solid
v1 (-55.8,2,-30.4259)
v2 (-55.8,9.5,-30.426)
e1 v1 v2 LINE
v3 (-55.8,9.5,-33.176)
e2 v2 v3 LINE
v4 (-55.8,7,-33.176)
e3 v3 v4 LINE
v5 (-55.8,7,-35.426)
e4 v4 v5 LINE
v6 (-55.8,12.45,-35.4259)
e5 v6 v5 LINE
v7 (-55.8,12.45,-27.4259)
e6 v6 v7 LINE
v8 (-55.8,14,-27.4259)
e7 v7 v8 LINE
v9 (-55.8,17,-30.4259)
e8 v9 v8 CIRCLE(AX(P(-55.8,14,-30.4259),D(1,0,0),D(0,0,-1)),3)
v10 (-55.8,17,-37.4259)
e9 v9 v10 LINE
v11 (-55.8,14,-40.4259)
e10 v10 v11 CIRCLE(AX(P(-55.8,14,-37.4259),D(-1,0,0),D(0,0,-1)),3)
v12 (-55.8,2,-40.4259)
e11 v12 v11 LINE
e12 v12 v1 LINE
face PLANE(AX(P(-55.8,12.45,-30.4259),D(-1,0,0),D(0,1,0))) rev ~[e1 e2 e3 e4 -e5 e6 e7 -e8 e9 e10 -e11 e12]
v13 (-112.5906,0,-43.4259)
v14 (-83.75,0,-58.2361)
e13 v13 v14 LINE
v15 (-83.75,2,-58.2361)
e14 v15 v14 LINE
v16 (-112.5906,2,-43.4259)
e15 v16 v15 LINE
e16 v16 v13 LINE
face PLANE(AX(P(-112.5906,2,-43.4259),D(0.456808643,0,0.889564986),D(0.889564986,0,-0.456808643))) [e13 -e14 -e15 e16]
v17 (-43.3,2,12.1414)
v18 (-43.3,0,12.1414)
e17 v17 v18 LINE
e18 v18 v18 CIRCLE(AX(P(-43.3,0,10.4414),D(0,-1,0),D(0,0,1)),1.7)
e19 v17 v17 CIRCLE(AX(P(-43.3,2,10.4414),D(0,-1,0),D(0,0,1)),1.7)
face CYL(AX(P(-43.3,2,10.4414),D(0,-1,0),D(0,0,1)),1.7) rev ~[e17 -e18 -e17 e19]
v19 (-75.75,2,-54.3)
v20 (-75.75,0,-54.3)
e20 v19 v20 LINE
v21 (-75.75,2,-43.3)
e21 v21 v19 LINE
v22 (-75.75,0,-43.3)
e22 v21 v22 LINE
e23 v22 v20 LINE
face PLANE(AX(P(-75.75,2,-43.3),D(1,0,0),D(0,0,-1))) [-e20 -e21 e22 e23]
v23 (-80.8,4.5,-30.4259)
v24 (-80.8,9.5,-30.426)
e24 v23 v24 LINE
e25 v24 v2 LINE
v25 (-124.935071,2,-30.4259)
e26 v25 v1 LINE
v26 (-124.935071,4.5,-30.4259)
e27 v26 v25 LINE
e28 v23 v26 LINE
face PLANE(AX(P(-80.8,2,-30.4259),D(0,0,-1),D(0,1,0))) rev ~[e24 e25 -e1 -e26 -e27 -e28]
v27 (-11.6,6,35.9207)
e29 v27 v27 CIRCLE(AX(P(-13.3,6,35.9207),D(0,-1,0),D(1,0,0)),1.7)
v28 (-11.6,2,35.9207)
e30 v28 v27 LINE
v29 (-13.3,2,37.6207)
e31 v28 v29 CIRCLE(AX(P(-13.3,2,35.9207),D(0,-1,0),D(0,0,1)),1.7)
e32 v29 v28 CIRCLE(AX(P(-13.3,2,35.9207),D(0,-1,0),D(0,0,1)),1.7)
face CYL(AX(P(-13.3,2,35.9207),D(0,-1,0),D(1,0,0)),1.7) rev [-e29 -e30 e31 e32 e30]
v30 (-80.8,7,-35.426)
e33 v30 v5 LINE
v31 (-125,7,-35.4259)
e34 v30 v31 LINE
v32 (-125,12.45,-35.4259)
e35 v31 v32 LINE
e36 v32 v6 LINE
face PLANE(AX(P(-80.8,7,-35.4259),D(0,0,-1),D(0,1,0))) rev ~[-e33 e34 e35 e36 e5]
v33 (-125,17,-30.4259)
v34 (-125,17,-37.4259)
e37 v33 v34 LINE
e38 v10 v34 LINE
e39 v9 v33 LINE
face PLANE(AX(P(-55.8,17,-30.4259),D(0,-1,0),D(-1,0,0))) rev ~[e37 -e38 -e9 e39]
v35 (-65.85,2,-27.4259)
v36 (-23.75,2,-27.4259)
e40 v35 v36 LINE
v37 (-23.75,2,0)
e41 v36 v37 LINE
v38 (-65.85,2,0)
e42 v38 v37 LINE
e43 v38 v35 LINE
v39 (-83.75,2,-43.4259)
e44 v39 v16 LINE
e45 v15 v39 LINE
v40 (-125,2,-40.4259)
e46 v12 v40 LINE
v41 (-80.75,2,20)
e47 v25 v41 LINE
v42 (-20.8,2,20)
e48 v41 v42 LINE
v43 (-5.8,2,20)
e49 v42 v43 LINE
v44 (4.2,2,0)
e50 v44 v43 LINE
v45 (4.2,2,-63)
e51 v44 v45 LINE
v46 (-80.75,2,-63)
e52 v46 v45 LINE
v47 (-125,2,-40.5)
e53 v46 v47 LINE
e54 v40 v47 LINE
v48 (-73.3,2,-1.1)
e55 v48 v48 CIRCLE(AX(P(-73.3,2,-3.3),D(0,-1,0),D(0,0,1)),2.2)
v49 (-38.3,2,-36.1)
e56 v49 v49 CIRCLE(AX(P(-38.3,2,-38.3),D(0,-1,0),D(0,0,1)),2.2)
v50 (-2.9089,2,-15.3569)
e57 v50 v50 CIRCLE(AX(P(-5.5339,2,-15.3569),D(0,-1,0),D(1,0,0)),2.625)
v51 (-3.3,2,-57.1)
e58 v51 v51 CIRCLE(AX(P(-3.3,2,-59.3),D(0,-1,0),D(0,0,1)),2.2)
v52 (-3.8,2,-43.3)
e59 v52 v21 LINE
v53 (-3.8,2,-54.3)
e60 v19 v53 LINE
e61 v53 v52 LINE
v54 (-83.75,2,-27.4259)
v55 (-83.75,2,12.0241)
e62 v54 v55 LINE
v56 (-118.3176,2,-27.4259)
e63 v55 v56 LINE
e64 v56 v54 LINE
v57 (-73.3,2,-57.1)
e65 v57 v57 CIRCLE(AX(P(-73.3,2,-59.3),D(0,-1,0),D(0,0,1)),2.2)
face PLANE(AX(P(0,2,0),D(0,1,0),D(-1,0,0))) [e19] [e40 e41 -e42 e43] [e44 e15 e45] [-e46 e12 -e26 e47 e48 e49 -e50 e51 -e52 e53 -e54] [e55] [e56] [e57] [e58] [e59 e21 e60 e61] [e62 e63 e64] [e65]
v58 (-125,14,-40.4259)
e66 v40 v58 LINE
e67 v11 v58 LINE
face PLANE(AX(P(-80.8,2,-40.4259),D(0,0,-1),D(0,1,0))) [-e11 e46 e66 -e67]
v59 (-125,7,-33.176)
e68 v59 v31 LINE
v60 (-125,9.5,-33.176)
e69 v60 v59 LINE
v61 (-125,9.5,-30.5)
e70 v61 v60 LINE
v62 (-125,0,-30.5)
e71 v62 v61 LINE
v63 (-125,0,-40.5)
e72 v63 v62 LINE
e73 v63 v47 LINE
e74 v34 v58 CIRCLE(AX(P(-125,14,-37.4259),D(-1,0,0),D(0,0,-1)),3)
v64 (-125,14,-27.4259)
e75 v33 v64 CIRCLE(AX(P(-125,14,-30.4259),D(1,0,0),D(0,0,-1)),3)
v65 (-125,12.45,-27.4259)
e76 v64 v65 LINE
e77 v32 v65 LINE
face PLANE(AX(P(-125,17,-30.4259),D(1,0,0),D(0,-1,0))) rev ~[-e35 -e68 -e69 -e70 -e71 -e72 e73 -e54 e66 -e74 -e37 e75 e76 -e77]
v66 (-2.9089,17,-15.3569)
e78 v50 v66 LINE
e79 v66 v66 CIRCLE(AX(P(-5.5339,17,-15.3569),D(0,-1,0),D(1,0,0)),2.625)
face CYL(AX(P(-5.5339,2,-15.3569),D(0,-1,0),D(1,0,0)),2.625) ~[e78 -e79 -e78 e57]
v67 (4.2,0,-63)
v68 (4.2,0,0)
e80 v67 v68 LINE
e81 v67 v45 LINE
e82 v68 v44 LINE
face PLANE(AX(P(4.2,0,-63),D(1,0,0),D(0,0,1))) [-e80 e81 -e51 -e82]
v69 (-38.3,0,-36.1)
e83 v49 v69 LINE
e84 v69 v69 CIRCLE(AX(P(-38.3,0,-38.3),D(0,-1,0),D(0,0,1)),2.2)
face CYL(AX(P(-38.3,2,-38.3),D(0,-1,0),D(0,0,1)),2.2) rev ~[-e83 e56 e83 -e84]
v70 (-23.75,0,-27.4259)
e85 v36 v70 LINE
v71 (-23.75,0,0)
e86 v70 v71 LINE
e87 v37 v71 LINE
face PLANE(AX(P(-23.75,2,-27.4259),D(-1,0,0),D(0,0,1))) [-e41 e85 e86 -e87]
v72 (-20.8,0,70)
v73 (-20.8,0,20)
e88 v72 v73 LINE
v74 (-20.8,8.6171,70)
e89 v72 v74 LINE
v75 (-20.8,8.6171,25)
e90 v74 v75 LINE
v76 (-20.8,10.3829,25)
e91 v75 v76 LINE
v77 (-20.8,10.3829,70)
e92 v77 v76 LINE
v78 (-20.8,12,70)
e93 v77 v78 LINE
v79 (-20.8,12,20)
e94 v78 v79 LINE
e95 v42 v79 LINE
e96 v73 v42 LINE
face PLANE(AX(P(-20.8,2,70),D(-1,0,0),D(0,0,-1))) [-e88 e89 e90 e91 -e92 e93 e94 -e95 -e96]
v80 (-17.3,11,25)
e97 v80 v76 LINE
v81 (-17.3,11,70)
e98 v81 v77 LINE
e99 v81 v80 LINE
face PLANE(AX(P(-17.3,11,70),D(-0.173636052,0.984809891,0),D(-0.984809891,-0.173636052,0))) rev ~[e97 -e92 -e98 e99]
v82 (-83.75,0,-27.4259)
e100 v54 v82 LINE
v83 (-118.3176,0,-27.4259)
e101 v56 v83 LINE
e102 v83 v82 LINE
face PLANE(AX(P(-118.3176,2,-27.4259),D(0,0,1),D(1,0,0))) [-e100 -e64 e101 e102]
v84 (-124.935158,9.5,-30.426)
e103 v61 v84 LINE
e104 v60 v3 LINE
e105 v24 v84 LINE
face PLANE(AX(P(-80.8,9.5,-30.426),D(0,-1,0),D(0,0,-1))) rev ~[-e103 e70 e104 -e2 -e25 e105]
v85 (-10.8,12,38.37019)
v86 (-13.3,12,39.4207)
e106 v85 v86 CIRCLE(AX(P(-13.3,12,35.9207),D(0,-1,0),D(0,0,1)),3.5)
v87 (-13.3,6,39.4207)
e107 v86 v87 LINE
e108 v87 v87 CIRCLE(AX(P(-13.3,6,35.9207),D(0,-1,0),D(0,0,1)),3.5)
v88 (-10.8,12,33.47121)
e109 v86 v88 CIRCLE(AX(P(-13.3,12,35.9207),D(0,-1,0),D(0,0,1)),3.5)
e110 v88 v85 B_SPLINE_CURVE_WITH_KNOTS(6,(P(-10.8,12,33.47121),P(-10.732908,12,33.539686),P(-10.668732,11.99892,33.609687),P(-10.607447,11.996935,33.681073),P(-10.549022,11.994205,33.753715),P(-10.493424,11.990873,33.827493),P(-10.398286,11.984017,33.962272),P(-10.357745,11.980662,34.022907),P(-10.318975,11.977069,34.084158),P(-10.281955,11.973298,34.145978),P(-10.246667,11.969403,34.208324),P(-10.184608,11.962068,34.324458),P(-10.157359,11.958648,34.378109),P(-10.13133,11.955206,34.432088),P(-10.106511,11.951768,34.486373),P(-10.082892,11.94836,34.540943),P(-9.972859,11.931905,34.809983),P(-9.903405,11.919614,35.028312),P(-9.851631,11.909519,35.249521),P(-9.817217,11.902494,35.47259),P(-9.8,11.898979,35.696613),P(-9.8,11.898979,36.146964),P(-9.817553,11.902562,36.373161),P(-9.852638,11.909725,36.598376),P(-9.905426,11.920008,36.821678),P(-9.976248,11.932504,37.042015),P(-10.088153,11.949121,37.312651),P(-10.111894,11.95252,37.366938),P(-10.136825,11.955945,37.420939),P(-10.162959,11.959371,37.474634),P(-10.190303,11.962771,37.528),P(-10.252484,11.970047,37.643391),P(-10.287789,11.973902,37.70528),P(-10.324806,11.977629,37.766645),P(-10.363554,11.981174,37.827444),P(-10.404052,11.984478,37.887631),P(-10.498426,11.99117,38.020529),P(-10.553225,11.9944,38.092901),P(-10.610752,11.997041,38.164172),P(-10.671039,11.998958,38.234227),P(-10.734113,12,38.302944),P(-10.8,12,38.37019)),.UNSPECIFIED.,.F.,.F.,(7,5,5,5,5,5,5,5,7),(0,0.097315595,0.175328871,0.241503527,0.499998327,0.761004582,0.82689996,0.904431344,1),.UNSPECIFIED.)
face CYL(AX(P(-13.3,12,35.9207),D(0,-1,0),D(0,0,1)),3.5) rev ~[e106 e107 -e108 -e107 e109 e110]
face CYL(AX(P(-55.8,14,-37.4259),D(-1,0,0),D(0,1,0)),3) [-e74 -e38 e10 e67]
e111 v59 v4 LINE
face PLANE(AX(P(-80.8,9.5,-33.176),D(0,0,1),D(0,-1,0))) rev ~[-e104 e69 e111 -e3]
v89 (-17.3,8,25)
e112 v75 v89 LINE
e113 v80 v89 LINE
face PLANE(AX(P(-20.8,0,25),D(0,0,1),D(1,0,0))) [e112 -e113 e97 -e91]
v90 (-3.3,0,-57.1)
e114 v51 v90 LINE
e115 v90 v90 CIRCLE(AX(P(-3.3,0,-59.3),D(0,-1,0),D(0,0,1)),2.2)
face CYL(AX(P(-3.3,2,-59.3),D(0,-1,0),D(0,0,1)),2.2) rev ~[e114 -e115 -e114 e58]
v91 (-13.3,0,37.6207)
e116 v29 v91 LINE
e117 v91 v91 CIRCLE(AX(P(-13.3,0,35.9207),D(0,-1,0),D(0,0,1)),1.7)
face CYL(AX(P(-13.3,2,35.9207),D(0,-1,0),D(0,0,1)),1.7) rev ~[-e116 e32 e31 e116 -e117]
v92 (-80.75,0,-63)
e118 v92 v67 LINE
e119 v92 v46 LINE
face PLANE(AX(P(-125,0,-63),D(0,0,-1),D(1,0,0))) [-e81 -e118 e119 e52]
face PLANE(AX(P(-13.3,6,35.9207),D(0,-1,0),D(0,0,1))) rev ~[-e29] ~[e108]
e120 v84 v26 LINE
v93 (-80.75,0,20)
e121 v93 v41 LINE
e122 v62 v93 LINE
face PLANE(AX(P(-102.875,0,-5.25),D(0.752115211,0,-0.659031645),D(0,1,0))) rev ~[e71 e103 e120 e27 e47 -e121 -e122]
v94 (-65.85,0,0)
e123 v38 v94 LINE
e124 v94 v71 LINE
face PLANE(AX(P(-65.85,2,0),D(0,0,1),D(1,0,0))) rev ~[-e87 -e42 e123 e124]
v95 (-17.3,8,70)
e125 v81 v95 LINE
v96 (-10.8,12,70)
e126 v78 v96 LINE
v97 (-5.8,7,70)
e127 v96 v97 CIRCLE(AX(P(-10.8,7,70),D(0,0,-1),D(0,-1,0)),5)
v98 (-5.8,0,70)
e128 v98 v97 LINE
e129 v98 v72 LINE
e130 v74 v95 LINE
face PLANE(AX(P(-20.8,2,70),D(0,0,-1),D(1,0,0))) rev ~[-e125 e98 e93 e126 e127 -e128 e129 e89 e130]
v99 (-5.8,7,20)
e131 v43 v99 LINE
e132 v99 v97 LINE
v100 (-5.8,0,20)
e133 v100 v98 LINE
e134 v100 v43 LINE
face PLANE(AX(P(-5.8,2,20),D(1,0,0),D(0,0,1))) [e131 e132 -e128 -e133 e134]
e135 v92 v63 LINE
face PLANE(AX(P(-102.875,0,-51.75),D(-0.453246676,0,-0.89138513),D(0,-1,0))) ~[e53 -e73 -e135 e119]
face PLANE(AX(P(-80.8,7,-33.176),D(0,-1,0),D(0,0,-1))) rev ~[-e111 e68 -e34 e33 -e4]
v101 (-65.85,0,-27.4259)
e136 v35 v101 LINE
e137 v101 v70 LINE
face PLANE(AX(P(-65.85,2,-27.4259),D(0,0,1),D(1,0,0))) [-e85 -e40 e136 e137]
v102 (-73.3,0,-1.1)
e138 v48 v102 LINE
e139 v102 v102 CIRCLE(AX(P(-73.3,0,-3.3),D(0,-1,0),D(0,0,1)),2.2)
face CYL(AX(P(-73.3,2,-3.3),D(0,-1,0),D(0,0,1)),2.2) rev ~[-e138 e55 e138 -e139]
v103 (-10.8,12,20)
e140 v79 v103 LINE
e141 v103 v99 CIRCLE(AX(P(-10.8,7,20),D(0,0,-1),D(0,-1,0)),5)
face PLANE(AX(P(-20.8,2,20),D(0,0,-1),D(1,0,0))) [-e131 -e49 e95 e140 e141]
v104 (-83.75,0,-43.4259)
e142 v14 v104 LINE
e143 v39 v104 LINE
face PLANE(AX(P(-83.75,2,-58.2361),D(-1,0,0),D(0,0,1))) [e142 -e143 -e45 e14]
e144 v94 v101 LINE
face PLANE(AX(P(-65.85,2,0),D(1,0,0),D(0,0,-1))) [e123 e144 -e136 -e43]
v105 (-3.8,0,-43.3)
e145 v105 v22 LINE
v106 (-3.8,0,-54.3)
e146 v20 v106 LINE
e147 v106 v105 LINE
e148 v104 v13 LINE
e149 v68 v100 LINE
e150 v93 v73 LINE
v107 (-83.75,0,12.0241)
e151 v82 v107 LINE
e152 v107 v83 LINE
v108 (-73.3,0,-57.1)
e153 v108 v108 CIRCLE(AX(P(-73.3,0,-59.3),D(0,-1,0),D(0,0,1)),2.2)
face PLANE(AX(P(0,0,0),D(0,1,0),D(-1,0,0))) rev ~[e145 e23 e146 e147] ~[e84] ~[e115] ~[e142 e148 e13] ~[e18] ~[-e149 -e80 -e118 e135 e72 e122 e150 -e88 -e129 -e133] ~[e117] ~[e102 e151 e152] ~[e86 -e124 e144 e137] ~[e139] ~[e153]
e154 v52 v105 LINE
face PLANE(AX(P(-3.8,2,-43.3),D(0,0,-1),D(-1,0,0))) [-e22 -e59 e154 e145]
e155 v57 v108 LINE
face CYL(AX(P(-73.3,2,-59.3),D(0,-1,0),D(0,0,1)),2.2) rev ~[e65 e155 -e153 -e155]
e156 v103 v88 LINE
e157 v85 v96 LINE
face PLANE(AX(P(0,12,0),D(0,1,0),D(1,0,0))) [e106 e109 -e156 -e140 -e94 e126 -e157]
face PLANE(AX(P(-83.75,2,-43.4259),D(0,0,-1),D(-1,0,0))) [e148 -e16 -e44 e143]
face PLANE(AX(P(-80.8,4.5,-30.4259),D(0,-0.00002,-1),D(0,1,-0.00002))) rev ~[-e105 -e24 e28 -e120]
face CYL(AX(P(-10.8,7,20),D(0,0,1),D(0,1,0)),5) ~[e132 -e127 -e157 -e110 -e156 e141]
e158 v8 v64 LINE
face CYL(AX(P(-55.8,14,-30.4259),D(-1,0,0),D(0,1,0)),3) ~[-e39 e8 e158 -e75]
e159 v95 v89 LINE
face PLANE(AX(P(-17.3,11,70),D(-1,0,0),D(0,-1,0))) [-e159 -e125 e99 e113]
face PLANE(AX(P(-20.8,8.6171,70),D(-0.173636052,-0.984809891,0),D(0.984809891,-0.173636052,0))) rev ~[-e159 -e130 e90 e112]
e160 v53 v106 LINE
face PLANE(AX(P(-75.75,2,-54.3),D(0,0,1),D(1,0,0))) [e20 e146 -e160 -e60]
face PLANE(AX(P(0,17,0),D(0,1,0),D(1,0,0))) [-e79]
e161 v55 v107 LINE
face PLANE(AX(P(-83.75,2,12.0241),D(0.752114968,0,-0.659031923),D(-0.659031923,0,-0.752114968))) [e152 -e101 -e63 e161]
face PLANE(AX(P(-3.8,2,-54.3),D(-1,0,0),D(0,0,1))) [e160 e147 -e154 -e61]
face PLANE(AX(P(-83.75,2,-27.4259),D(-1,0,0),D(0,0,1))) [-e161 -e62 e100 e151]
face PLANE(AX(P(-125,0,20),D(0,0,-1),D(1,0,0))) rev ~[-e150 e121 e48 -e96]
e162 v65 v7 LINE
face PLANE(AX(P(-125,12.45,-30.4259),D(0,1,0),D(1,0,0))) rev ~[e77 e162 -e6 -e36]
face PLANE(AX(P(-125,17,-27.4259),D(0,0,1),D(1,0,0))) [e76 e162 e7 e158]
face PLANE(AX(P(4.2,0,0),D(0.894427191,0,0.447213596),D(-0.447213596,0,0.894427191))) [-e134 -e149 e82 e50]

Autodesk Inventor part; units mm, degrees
ref_plane "YZ Plane" through (0, 0, 0) normal (1, 0, 0) x (0, 1, 0)
ref_plane "XZ Plane" through (0, 0, 0) normal (0, 1, 0) x (-1, 0, 0)
ref_plane "XY Plane" through (0, 0, 0) normal (0, 0, 1) x (1, 0, 0)
sketch "Sketch1" plane through (0, 0, 0) normal (0, 1, 0) x (-1, 0, 0)
  line L0 (125, 0) -> (125, -63)
  line L1 (125, -63) -> (-4.2, -63)
  line L2 (-4.2, -63) -> (-4.2, 0)
  line L3 (-4.2, 0) -> (5.8, 0)
  line L4 (5.8, 0) -> (5.8, 40)
  line L5 (20.8, 40) -> (20.8, 0)
  line L6 (20.8, 0) -> (125, 0)
  line L7 (5.8, 40) -> (5.8, 70)
  line L8 (5.8, 70) -> (20.8, 70)
  line L9 (20.8, 70) -> (20.8, 40)
  line L10 (125, 0) -> (125, 20)
  line L11 (125, 20) -> (5.8, 20)
  line L12 (-4.2, -1.8) -> (-4.2, -60.8) projected
  line L13 (-4.2, 0) -> (5.8, 20)
  line L14 (125, -35.426) -> (125, -25.426) projected
  point P0 (20.8, 20)
  dimension "d1" = 63
  dimension "d2" = 15
  dimension "d3" = 40
  dimension "d4" = 10
  dimension "d51" = 30
  dimension "d127" = 20
  dimension "d129" = 126.9309
  dimension "d130" = 104.2
  dimension "d131" = 13.4164
extrude "Extrusion1" add sketch "Sketch1" along normal blind 2
sketch "Sketch2" plane through (0, 2, 0) normal (0, 1, 0) x (1, 0, 0)
  line L0 (-73.3, 3.3) -> (-3.3, 3.3) construction
  line L1 (-3.3, 3.3) -> (-3.3, 59.3) construction
  line L2 (-3.3, 59.3) -> (-73.3, 59.3) construction
  line L3 (-73.3, 59.3) -> (-73.3, 3.3) construction
  circle A0 centre (-73.3, 3.3) radius 1.7
  circle A1 centre (-73.3, 59.3) radius 1.7
  circle A2 centre (-3.3, 59.3) radius 1.7
  point P0 (0, 0)
  dimension "d7" = 70
  dimension "d8" = 56
  dimension "d9" = 3.3
  dimension "d11" = 3.4
  dimension "d12" = 3.4
  dimension "d13" = 3.4
  dimension "d197" = 3.3
hole "Hole1" at (-73.3, 2, -3.3) at (-73.3, 2, -59.3) at (-3.3, 2, -59.3) direction (0, -1, 0) diameter 4.4 end through all
sketch "Sketch3" plane through (0, 2, 0) normal (0, 1, 0) x (1, 0, 0)
  circle A0 centre (-3.3, 59.3) radius 2.2 construction
  circle A1 centre (-73.3, 59.3) radius 2.2 construction
  circle A2 centre (-73.3, 3.3) radius 2.2 construction
  line L0 (-20.8, -20) -> (-20.8, -70) construction
  line L1 (-5.8, -70) -> (-5.8, -20) construction
  line L2 (4.2, 0) -> (4.2, 63) construction
  line L3 (4.2, 63) -> (-125, 63) construction
  line L4 (-73.3, 3.3) -> (-3.3, 3.3) construction
  line L5 (-3.3, 3.3) -> (-3.3, 59.3) construction
  line L6 (-3.3, 38.3) -> (-38.3, 38.3) construction
  line L7 (-38.3, 38.3) -> (-38.3, 3.3) construction
  circle A3 centre (-38.3, 38.3) radius 2.2 construction
  line L8 (-20.8, -70) -> (-5.8, -70) projected
  line L9 (-5.8, -20) -> (4.2, 0) projected
  line L10 (-125, 63) -> (-125, -20) projected
  line L11 (-125, -20) -> (-20.8, -20) projected
  point P0 (0, 0)
  dimension "d24" = 35
  dimension "d25" = 35
  dimension "d26" = 4.4
hole "Hole2" at (-38.3, 2, -38.3) direction (0, -1, 0) diameter 4.4 end through all
sketch "Sketch5" plane through (0, 2, 0) normal (0, 1, 0) x (1, 0, 0)
  circle A0 centre (-38.3, 38.3) radius 2.2 projected
  circle A1 centre (-5.5339, 15.3569) radius 2.625
  line L0 (-38.3, 38.3) -> (-5.5339, 15.3569)
  line L1 (-38.3, 38.3) -> (-38.3, 10.8789)
  point P0 (0, 0)
  dimension "d44" = 5.25
  dimension "d46" = 40
  dimension "d47" = 55
  dimension "d200" = 27.4211
extrude "Extrusion2" add sketch "Sketch5" along normal blind 15 contours A1
sketch "Sketch6" plane through (0, 2, 0) normal (0, 1, 0) x (1, 0, 0)
  line L0 (-80.8, 40.4259) -> (-55.8, 40.4259)
  line L1 (-55.8, 40.4259) -> (-55.8, 30.4259)
  line L2 (-55.8, 30.4259) -> (-80.8, 30.4259)
  line L3 (-80.8, 30.4259) -> (-80.8, 40.4259)
  circle A0 centre (-5.5339, 15.3569) radius 2.625 projected
  circle A1 centre (-5.5339, 15.3569) radius 2.625 projected
  line L4 (-5.5339, 15.3569) -> (-80.8, 15.3569) construction
  point P0 (0, 0)
  point P1 (-55.8, 35.4259)
  dimension "d54" = 10
  dimension "d132" = 25
  dimension "d133" = 30.4259
  dimension "d134" = 66.0957
  dimension "d206" = 80.8
extrude "Extrusion3" add sketch "Sketch6" along normal blind 15 contours L0 L1 L2 L3
sketch "Sketch7" plane through (-80.8, 2, -40.4259) normal (-1, 0, 0) x (0, 0, 1)
  line L0 (10, 2.5) -> (5, 2.5)
  line L1 (9.9999, 7.5) -> (6.9999, 7.5) projected
  line L2 (10, 0) -> (10, 15) projected
  line L3 (4.9999, 5) -> (6.9999, 5) projected
  line L4 (6.9999, 5) -> (6.9999, 7.5) projected
  line L5 (-22.5741, 0) -> (60.4259, 0) projected
  line L6 (7.2499, 7.5) -> (7.2499, 5)
  line L7 (7.2499, 5) -> (6.9999, 5)
  line L8 (5, 10.45) -> (10, 10.45)
  line L9 (5, 10.45) -> (5, 2.5)
  line L10 (7.2499, 7.5) -> (9.9999, 7.5)
  line L11 (10, 2.5) -> (9.9999, 7.5)
  point P0 (5, 5)
  dimension "d186" = 0.25
  dimension "d256" = 2.5
  dimension "d257" = 0.25
  dimension "d274" = 7.95
  dimension "d275" = 5
extrude "Extrusion4" cut sketch "Sketch7" against normal up to surface (25 mm away) contours L1 L4 L3 L9 L8 L2 | L6 L7 L4 L1
sketch "Sketch13" plane through (0, 2, 0) normal (0, 1, 0) x (1, 0, 0)
  point P0 (0, 0)
sketch "Sketch15" plane through (-80.8, 2, -40.4259) normal (-1, 0, 0) x (0, 0, 1)
  line L0 (10, 10.45) -> (10, 15) projected
  line L1 (0, 15) -> (10, 15) projected
  line L2 (0, 0) -> (0, 15) projected
  line L3 (10, 0) -> (0, 0) projected
  line L4 (10, 0) -> (10, 2.5) projected
  line L5 (5, 10.45) -> (10, 10.45) projected
  line L6 (5, 5) -> (5, 10.45) projected
  line L7 (10, 2.5) -> (9.9999, 7.5) projected
  line L8 (9.9999, 7.5) -> (7.2499, 7.5) projected
  line L9 (7.2499, 7.5) -> (7.2499, 5) projected
  line L10 (7.2499, 5) -> (5, 5) projected
  point P0 (40.4259, -2)
extrude "Extrusion9" add sketch "Sketch15" along normal up to surface (44.2 mm away)
sketch "Sketch18" plane through (0, 2, 0) normal (0, 1, 0) x (1, 0, 0)
  point P0 (0, 0)
  point P1 (-43.3, -10.4414)
  point P2 (-13.3, -35.9207)
hole "Hole4" at (-43.3, 2, 10.4414) at (-13.3, 2, 35.9207) direction (0, -1, 0) diameter 3.4 end through all
chamfer "Chamfer1" distance 50.5 distance2 44.25 1 edges at (-125, 1, 20) measured on face at (-125, 0.6667, -24.4753)
chamfer "Chamfer2" distance 44.25 distance2 22.5 1 edges at (-125, 1, -63) measured on face at (-38.8667, 1.3333, -63)
sketch "Sketch19" plane through (0, 2, 0) normal (0, 1, 0) x (1, 0, 0)
  line L0 (-125, 30.5) -> (-80.75, -20) projected
  line L1 (-80.75, -20) -> (-80.75, 30.4259)
  line L2 (-55.8, 30.4259) -> (-124.9351, 30.4259) projected
  line L3 (-124.9351, 30.4259) -> (-80.75, -20)
  line L4 (-80.75, 63.1491) -> (-125, 40.4259)
  line L5 (-125, 40.4259) -> (-80.75, 40.4259)
  line L6 (-80.75, 40.4259) -> (-80.75, 63.1491)
  line L7 (-80.75, 30.4259) -> (-124.9351, 30.4259)
  line L8 (-83.75, 27.4259) -> (-83.75, -12.0241)
  line L9 (-83.75, -12.0241) -> (-118.3176, 27.4259)
  line L10 (-118.3176, 27.4259) -> (-83.75, 27.4259)
  line L11 (-83.75, 43.4259) -> (-112.5906, 43.4259)
  line L12 (-112.5906, 43.4259) -> (-83.75, 58.2361)
  line L13 (-83.75, 58.2361) -> (-83.75, 43.4259)
  line L14 (-80.75, 0) -> (-20.75, 0)
  line L15 (-20.75, 0) -> (-20.75, 30.4259)
  line L16 (-20.75, 30.4259) -> (-80.75, 30.4259)
  line L17 (-80.75, 0) -> (-80.75, 30.4259)
  line L18 (-80.75, 27.4259) -> (-23.75, 27.4259)
  line L19 (-23.75, 27.4259) -> (-23.75, 0)
  line L20 (-65.85, 0) -> (-65.85, 27.4259)
  circle A0 centre (-73.3, 3.3) radius 2.2 projected
  line L21 (-75.75, 54.3) -> (-3.8, 54.3)
  line L22 (-3.8, 54.3) -> (-3.8, 43.3)
  line L23 (-3.8, 43.3) -> (-75.75, 43.3)
  line L24 (-75.75, 43.3) -> (-75.75, 54.3)
  line L25 (4.2, 0) -> (4.2, 63) projected
  circle A1 centre (-38.3, 38.3) radius 2.2 projected
  circle A2 centre (-73.3, 59.3) radius 2.9111 projected
  point P0 (0, 0)
  dimension "d160" = 3
  dimension "d161" = 3
  dimension "d164" = 60
  dimension "d165" = 30.4259
  dimension "d167" = 3
  dimension "d168" = 3
  dimension "d169" = 7.45
  dimension "d176" = 5
  dimension "d177" = 8
  dimension "d178" = 5
  dimension "d179" = 5
  dimension "d312" = 49.7434
extrude "Extrusion11" cut sketch "Sketch19" against normal blind 10 contours L20 L18 L19 L14 | L8 L9 L10 | L11 L12 L13 | L21 L22 L23 L24
sketch "Sketch20" plane through (-125, 17, -30.4259) normal (0, 0, 1) x (1, 0, 0)
  line L0 (0, -4.55) -> (69.2, -4.55) projected
  line L1 (69.2, -4.55) -> (69.2, 0) projected
  line L2 (69.2, 0) -> (0, 0) projected
  line L3 (0, 0) -> (0, -4.55) projected
  point P0 (125, -17)
extrude "Extrusion12" add sketch "Sketch20" along normal blind 3
fillet "Fillet1" radius 3 2 edges at (-90.4, 17, -40.4259) (-90.4, 17, -27.4259)
sketch "Sketch21" plane through (0, 2, 0) normal (0, 1, 0) x (1, 0, 0)
  line L0 (-80.75, -20) -> (-20.8, -20) projected
  line L1 (-20.8, -70) -> (-5.8, -70) projected
  line L2 (-20.8, -20) -> (-5.8, -20)
  line L3 (-5.8, -20) -> (-5.8, -70)
  line L4 (-5.8, -70) -> (-20.8, -70)
  line L5 (-20.8, -70) -> (-20.8, -20)
  circle A0 centre (-13.3, -35.9207) radius 1.7 projected
  point P0 (0, 0)
extrude "Extrusion13" add sketch "Sketch21" along normal blind 10
fillet "Fillet2" radius 5 1 edges at (-5.8, 12, 45)
sketch "Sketch22" plane through (-20.8, 0, 70) normal (0, 0, 1) x (1, 0, 0)
  line L0 (0, 8.6171) -> (3.5, 8)
  line L1 (3.5, 11) -> (0, 10.3829)
  line L2 (3.5, 11) -> (3.5, 8)
  line L3 (0, 0) -> (15, 0) projected
  line L4 (0, 0) -> (0, 12) projected
  line L5 (0, 10.3829) -> (0, 8.6171)
  dimension "d333" = 80
  dimension "d334" = 80
  dimension "d336" = 3
  dimension "d346" = 15
  dimension "d347" = 3.5
  dimension "d348" = 8.6171
extrude "Extrusion14" cut sketch "Sketch22" against normal blind 45
sketch "Sketch23" plane through (0, 12, 0) normal (0, 1, 0) x (1, 0, 0)
  circle A0 centre (-13.3, -35.9207) radius 1.7 projected
  point P0 (0, 0)
hole "Hole5" at (-13.3, 12, 35.9207) direction (0, -1, 0) diameter 7 depth 6
properties part number "BasePlate"
